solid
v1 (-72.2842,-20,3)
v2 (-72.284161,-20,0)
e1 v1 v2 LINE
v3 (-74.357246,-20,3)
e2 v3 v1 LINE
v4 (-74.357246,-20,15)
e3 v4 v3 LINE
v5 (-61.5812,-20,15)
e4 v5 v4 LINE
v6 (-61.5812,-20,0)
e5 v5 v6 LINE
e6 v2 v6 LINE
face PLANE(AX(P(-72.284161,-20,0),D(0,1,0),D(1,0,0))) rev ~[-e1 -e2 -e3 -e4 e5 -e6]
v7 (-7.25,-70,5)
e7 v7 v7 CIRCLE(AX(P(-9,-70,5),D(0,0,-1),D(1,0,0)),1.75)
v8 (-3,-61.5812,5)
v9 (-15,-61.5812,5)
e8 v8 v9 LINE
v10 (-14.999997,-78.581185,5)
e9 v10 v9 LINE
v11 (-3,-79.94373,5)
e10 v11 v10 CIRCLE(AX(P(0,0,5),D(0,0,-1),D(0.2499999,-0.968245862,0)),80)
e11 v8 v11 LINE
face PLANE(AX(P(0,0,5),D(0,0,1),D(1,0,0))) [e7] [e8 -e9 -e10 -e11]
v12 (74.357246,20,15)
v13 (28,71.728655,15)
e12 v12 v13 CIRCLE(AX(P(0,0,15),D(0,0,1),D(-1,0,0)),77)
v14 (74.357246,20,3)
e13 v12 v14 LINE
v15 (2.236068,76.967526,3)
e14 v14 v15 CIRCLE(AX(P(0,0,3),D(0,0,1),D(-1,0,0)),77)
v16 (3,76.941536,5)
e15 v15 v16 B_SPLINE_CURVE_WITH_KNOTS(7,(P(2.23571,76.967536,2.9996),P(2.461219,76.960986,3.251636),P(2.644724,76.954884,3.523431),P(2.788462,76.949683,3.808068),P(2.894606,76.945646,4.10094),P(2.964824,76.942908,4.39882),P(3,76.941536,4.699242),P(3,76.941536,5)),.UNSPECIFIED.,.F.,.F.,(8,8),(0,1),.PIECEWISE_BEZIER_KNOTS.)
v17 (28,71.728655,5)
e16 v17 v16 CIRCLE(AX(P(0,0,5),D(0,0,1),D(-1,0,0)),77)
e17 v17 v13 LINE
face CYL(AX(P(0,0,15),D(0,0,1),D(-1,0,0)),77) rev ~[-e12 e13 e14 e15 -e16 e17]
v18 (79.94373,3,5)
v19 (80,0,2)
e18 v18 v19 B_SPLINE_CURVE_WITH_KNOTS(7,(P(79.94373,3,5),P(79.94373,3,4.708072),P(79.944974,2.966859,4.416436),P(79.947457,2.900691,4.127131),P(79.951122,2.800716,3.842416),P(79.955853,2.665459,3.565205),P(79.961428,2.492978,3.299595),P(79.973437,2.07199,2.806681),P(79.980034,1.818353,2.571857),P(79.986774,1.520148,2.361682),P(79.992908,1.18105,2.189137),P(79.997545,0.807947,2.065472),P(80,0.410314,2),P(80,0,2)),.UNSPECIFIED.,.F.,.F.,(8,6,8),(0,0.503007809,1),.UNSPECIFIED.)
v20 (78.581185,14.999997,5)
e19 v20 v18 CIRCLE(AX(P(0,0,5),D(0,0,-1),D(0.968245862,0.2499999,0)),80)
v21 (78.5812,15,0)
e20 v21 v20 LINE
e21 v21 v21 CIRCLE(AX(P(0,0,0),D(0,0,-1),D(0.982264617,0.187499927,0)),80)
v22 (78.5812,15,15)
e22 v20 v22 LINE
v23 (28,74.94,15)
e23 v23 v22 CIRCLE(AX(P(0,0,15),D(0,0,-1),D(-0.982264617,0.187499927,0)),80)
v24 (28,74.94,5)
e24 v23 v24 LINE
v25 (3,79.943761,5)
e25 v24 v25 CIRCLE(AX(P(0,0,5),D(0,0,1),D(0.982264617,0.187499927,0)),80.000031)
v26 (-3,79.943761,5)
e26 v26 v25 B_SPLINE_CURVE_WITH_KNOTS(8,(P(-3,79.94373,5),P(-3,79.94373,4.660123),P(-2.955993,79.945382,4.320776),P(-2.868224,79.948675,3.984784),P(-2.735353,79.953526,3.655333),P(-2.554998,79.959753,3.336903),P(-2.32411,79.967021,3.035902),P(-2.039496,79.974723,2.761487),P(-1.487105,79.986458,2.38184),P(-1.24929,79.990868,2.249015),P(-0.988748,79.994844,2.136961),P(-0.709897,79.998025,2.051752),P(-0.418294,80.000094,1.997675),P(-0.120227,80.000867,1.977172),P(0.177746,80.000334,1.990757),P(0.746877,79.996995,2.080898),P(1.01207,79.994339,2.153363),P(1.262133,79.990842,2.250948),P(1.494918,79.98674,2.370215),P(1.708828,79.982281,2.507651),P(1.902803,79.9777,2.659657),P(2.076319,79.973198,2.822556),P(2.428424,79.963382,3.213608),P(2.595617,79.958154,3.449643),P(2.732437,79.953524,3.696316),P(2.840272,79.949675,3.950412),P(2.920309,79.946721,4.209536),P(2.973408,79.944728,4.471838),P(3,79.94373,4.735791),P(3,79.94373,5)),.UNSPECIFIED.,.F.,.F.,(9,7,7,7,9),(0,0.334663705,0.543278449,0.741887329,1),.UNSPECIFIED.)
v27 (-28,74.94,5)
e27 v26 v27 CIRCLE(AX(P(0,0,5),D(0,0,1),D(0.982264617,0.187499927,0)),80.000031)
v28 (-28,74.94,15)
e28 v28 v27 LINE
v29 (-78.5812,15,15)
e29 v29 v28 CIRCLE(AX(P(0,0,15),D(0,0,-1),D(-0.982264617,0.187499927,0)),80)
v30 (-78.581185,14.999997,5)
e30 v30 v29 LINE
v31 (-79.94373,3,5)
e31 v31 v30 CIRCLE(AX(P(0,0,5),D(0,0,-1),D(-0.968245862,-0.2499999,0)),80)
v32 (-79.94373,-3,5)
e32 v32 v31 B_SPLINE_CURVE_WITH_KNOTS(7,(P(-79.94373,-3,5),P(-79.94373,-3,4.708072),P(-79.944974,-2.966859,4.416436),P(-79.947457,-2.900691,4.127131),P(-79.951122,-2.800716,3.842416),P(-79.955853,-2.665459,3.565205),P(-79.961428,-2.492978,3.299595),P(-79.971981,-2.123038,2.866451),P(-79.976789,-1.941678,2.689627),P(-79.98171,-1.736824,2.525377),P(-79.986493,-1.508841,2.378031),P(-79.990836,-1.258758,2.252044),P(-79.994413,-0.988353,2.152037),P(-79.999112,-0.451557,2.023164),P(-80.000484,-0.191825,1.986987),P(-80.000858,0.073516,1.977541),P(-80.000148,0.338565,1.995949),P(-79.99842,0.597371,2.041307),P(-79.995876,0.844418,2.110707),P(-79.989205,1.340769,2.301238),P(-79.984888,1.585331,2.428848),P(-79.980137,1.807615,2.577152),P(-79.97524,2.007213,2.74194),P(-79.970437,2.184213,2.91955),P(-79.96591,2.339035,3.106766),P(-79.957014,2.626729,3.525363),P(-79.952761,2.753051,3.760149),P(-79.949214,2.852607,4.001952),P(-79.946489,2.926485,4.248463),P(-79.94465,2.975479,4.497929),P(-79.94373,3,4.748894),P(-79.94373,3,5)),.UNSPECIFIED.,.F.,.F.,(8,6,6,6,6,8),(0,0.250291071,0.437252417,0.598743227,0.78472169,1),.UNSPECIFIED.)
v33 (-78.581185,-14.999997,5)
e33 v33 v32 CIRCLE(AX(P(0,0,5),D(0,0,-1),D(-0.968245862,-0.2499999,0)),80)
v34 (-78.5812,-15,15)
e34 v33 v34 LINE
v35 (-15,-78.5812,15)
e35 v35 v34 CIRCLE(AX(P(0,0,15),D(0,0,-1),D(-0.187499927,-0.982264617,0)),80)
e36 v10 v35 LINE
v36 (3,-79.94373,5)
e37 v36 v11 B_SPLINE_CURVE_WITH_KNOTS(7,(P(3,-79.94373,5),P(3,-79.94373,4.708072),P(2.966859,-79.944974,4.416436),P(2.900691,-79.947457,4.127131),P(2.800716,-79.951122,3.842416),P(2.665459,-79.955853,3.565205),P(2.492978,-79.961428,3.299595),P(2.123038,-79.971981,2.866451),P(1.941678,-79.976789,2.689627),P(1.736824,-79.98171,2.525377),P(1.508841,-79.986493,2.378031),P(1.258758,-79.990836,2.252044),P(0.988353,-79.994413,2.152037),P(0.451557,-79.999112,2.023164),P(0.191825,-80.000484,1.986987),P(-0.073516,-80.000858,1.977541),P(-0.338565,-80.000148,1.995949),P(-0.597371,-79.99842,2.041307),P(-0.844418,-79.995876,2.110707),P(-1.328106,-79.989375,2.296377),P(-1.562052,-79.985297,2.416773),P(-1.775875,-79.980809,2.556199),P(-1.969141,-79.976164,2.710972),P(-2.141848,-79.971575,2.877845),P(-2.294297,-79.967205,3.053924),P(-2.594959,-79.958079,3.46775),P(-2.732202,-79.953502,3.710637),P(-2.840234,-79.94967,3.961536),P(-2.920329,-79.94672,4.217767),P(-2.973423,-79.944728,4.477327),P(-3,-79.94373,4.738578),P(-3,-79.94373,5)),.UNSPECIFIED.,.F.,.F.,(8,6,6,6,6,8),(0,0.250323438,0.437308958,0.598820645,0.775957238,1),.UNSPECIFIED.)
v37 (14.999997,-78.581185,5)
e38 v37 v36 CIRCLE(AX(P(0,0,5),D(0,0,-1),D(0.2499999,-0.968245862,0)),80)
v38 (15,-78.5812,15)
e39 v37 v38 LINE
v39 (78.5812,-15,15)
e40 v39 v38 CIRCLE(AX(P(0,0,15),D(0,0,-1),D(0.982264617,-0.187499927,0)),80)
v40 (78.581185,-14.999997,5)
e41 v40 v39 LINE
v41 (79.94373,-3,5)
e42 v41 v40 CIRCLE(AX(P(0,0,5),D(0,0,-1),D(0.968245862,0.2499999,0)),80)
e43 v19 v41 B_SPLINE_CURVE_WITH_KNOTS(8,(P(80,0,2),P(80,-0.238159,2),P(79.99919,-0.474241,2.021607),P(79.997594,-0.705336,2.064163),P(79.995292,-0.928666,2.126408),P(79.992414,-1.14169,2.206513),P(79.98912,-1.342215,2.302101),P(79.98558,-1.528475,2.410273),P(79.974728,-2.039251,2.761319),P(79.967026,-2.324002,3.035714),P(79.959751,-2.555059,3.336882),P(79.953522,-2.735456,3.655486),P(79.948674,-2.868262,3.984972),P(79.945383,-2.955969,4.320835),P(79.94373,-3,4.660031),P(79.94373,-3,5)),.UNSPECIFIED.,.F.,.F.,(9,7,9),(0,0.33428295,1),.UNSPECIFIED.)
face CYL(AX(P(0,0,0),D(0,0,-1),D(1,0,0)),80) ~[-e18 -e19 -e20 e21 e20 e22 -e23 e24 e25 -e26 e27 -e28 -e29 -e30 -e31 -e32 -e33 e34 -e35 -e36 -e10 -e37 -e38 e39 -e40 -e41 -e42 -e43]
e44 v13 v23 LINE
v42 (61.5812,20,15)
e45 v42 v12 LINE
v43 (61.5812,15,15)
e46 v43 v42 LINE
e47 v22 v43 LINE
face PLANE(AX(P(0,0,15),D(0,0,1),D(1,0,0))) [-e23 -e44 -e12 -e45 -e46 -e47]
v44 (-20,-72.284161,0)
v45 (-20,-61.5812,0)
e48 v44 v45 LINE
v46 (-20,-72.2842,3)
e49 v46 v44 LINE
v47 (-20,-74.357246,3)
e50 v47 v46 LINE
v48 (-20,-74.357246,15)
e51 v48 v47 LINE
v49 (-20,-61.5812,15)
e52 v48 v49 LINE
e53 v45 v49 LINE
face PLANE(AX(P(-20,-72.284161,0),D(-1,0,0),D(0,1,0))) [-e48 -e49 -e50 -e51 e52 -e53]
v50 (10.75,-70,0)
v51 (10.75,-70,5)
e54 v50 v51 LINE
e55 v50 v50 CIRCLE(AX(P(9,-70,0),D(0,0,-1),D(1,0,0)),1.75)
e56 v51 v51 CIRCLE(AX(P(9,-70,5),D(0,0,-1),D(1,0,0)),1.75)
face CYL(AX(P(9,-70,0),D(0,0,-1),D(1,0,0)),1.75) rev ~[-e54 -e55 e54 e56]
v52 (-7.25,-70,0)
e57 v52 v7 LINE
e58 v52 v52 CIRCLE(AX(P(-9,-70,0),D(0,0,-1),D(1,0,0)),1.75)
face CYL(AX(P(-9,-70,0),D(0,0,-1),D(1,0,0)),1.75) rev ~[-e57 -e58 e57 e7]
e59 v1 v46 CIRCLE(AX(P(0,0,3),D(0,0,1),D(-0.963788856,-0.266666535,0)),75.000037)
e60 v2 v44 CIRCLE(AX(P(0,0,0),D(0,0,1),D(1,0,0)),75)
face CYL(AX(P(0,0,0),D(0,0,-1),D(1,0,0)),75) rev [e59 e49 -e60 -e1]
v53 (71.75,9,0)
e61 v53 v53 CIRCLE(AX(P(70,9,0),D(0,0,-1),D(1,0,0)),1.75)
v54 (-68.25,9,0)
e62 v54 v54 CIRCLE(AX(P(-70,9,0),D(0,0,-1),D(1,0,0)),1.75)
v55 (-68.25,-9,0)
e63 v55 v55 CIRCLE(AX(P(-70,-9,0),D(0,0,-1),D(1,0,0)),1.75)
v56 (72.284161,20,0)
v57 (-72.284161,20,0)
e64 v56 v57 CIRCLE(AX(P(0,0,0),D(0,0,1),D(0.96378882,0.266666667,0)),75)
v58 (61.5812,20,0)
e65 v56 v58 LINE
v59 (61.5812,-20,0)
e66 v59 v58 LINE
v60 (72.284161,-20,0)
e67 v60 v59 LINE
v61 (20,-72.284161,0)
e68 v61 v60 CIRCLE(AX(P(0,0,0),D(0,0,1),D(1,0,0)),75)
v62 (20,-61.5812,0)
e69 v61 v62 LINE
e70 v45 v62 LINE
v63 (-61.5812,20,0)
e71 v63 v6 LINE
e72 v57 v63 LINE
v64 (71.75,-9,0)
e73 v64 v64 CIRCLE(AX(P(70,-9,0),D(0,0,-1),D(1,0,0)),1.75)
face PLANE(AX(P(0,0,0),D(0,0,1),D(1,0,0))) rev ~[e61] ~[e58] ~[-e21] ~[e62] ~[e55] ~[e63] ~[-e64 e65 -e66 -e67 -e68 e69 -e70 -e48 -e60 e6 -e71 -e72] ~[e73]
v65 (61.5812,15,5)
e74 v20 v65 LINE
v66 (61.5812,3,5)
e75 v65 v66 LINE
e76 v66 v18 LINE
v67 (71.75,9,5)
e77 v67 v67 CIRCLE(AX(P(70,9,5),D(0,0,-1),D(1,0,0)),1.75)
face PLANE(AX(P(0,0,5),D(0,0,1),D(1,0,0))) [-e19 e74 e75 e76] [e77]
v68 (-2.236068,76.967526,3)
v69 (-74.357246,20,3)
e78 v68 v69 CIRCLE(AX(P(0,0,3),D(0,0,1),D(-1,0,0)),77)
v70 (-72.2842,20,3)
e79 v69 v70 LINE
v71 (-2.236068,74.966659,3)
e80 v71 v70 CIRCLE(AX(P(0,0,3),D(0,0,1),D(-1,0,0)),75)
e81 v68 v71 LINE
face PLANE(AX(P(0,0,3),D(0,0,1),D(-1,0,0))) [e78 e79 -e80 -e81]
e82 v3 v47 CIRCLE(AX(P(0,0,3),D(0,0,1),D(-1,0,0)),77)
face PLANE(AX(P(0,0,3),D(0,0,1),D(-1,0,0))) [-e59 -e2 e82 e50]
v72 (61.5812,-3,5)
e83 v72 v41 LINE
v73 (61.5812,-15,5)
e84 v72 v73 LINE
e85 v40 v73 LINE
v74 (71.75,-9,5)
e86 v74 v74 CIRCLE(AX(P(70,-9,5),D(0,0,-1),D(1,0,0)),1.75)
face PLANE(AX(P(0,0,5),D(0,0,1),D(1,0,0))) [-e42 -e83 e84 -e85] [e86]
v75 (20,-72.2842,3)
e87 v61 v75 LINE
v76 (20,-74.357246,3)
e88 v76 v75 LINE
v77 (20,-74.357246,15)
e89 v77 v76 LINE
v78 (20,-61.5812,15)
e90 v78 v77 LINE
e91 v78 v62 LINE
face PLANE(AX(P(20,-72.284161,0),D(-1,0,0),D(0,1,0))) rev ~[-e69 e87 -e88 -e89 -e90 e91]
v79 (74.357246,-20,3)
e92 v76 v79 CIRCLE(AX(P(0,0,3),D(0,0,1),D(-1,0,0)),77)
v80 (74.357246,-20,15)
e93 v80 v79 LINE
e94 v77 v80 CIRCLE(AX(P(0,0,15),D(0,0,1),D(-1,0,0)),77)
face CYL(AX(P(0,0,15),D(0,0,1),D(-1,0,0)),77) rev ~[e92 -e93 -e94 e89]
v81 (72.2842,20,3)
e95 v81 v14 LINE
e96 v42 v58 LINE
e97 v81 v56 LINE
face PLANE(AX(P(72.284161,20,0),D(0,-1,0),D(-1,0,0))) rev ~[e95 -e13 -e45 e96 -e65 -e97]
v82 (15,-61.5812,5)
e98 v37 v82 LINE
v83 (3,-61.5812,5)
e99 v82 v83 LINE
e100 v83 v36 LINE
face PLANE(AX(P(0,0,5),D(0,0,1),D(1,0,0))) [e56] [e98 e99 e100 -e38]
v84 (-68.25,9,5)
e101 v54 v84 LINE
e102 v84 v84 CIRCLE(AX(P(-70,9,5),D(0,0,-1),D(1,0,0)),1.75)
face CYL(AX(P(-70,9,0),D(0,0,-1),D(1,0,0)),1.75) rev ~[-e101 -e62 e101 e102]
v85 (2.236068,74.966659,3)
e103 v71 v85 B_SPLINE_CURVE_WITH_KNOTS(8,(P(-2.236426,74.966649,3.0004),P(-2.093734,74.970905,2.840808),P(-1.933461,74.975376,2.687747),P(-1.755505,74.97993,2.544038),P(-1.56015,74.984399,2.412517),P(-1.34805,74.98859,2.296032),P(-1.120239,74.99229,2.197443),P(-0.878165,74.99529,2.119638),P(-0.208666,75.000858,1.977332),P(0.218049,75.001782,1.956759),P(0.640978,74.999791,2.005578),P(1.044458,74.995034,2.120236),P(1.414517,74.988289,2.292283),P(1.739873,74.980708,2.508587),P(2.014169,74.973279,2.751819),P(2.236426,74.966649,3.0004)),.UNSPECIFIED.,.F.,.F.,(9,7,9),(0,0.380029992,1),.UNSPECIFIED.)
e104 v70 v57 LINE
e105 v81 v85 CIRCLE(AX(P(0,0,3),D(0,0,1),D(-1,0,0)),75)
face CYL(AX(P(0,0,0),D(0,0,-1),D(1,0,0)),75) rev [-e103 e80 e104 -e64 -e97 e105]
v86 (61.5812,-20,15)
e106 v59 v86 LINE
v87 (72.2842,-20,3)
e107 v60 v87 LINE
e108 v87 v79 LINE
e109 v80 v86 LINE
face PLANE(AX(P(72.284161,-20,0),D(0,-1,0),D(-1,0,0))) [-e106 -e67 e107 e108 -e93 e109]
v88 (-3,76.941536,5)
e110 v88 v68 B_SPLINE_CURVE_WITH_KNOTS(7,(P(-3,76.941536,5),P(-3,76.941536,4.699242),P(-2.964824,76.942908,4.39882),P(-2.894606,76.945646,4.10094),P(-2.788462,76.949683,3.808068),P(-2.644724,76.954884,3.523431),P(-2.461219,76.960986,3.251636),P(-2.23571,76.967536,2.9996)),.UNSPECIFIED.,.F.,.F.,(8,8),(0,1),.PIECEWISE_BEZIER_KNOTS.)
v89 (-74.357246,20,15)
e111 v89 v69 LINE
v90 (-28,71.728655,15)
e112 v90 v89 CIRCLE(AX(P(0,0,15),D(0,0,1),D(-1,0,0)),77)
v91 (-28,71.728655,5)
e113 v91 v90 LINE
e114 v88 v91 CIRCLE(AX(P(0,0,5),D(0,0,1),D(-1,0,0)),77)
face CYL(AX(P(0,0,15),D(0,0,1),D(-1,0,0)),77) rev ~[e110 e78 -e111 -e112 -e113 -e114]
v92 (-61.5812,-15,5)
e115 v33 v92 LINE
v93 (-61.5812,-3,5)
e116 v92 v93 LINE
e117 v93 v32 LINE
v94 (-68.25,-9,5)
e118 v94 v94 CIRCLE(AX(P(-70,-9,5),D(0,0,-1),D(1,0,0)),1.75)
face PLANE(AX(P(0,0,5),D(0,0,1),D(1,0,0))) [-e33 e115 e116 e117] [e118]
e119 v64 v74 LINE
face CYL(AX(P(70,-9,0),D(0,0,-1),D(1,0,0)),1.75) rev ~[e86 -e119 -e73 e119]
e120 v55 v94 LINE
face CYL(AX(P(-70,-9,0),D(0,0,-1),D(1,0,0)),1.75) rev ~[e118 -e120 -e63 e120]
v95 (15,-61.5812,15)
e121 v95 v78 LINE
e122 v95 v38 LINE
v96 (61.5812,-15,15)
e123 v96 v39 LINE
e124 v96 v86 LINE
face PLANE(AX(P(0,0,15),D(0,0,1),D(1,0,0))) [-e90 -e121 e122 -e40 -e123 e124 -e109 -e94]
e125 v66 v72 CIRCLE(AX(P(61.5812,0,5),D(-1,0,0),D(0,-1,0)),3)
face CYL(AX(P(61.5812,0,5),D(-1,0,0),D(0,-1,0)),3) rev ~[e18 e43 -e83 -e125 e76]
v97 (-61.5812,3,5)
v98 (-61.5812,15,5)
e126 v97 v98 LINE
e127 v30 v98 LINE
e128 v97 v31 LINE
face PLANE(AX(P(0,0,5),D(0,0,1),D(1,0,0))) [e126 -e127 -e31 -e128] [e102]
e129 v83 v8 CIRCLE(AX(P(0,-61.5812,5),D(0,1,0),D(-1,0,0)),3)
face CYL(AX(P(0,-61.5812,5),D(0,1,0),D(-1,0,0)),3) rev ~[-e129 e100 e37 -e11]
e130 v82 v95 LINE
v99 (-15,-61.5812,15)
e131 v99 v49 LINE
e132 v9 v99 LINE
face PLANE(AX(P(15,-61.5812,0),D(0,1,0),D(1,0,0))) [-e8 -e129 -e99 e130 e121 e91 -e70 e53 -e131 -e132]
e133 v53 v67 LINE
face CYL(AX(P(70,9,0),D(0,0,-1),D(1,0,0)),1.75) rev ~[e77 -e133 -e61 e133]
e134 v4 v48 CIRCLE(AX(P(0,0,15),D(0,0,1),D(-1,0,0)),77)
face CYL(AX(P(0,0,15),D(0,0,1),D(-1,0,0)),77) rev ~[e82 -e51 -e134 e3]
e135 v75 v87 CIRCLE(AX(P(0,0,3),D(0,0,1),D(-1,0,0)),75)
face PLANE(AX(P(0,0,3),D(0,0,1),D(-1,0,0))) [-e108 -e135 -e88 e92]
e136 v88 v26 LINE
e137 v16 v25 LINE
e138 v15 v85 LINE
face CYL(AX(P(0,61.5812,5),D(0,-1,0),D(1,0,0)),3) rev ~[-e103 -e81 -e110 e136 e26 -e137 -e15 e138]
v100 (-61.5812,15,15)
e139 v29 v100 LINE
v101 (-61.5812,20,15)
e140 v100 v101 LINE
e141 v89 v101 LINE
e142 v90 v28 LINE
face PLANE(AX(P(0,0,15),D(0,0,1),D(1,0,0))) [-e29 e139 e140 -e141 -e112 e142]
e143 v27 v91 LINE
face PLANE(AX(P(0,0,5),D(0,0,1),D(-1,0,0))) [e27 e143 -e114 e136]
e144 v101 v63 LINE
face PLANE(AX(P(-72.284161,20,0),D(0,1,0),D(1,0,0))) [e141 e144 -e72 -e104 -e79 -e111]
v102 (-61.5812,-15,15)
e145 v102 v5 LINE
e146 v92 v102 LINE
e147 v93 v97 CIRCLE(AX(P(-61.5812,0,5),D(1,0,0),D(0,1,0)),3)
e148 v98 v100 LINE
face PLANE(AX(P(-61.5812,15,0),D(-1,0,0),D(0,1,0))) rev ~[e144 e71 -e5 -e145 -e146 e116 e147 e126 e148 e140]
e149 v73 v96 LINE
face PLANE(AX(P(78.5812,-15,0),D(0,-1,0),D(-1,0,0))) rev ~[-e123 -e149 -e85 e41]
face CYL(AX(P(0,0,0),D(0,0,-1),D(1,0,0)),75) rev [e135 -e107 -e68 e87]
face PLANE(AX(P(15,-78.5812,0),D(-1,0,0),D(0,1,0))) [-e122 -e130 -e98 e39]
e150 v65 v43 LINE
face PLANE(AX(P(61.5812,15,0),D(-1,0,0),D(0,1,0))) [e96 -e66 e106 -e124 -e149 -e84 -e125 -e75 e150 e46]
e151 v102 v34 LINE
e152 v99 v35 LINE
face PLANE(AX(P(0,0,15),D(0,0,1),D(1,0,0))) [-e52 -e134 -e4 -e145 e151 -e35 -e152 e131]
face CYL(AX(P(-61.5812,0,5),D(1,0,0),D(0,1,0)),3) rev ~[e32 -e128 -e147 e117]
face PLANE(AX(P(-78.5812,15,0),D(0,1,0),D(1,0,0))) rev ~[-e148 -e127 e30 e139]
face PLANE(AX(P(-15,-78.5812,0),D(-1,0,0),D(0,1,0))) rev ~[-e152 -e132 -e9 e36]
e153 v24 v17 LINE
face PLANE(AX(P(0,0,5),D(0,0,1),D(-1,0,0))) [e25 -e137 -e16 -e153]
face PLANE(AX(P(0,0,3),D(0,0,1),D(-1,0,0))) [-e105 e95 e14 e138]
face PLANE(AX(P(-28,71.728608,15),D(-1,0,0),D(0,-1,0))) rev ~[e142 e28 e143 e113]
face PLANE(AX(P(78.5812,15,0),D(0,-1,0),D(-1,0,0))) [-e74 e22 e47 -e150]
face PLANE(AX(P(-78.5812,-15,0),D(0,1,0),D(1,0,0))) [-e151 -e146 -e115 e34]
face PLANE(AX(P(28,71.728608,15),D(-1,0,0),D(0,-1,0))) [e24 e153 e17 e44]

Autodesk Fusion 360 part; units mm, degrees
sketch "Sketch1" plane through (0, 0, 0) normal (0, 0, 1) x (1, 0, 0)
  circle A0 centre (0, 0) radius 80
  circle A1 centre (0, 0) radius 75
  line L0 (109.3577, 15) -> (-93.0881, 15) construction
  line L1 (20, 0) -> (2.5, 0)
  line L2 (109.3577, -15) -> (-93.0881, -15) construction
  line L3 (-78.5812, 15) -> (-61.5812, 15)
  line L4 (-78.5812, -15) -> (-61.5812, -15)
  line L5 (-97.5254, 20) -> (90.0497, 20) construction
  line L6 (-97.5254, -20) -> (90.0497, -20) construction
  line L7 (-77.4597, 20) -> (-61.5812, 20)
  line L8 (-77.4597, -20) -> (-61.5812, -20)
  line L9 (-61.5812, -15) -> (-61.5812, -20)
  line L10 (-61.5812, 15) -> (-61.5812, 20)
  line L11 (-20, -77.4597) -> (-20, -61.5812)
  line L12 (-15, -61.5812) -> (-20, -61.5812)
  line L13 (-15, -78.5812) -> (-15, -61.5812)
  line L14 (15, -78.5812) -> (15, -61.5812)
  line L15 (15, -61.5812) -> (20, -61.5812)
  line L16 (20, -77.4597) -> (20, -61.5812)
  line L17 (77.4597, -20) -> (61.5812, -20)
  line L18 (61.5812, -15) -> (61.5812, -20)
  line L19 (78.5812, -15) -> (61.5812, -15)
  line L20 (78.5812, 15) -> (61.5812, 15)
  line L21 (61.5812, 15) -> (61.5812, 20)
  line L22 (77.4597, 20) -> (61.5812, 20)
  line L23 (-28, 82.3691) -> (-28, 36.8916) construction
  line L24 (0, 2.5) -> (0, 20)
  line L25 (28, 82.3691) -> (28, 36.8916) construction
  line L26 (-33, 78.0405) -> (-33, 48.5416) construction
  line L27 (33, 78.0405) -> (33, 48.5416) construction
  line L28 (-28, 74.94) -> (-28, 69.5773)
  line L29 (28, 74.94) -> (28, 69.5773)
  line L30 (-61.5812, 15) -> (-61.5812, -15)
  line L31 (-15, -61.5812) -> (15, -61.5812)
  line L32 (61.5812, -15) -> (61.5812, 15)
  circle A2 centre (0, 0) radius 77
  dimension "d1" = 160
  dimension "d2" = -5
  dimension "d3" = 15
  dimension "d4" = 17
  dimension "d5" = 17
  dimension "d6" = 20
  dimension "d8" = 360
  dimension "d9" = 28
  dimension "d10" = 33
  dimension "d13" = -3
extrude "Extrude1" add sketch "Sketch1" along normal blind 15 contours A0 L20 L22 A2 | A0 L17 L19 A2 | A0 L22 L29 A2 | A1 L20 L22 A2 | A0 L16 L17 A2 | A1 L17 L19 A2 | A0 L28 L29 A2 | A1 L22 L29 A2 | A1 L20 L21 L22 | A0 L14 L16 A2 | A1 L16 L17 A2 | A1 L17 L18 L19 | A0 L7 L28 A2 | A1 L28 L29 A2 | A1 L14 L16 A2 | A0 L3 L7 A2 | A1 L7 L28 A2 | A0 L11 L13 A2 | A1 L14 L15 L16 | A1 L3 L7 A2 | A0 L8 L11 A2 | A1 L11 L13 A2 | A0 L4 L8 A2 | A1 L3 L7 L10 | A1 L8 L11 A2 | A1 L11 L12 L13 | A1 L4 L8 A2 | A1 L4 L8 L9 makes body 1 at (-69.1013, 40.3114, 10) makes body 2 at (18.8878, -77.7383, 5) makes body 3 at (-77.7383, -18.8878, 5)
extrude "Extrude2" add sketch "Sketch1" along normal blind 5 contours A0 L19 L20 A2 | A0 L20 L22 A2 | A0 L17 L19 A2 | A1 L19 L20 A2 | A1 L20 L22 A2 | A1 L17 L19 A2 | A1 L20 L21 L22 | A1 L19 L20 L32 | A0 L14 L16 A2 | A1 L17 L18 L19 | A0 L13 L14 A2 | A1 L14 L16 A2 | A0 L3 L7 A2 | A0 L11 L13 A2 | A1 L13 L14 A2 | A1 L14 L15 L16 | A0 L3 L4 A2 | A1 L3 L7 A2 | A1 L11 L13 A2 | A1 L13 L14 L31 | A0 L4 L8 A2 | A1 L3 L4 A2 | A1 L3 L7 L10 | A1 L11 L12 L13 | A1 L4 L8 A2 | A1 L3 L4 L30 | A1 L4 L8 L9 bodies 1 2 3
sketch "Sketch2" plane through (0, 0, 15) normal (0, 0, 1) x (-1, 0, 0)
  arc A0 (78.5812, 15) -> (15, 78.5812) centre (0, 0) ccw
  line L0 (15, 78.5812) -> (15, 61.5812)
  line L1 (15, 61.5812) -> (20, 61.5812)
  line L2 (20, 61.5812) -> (20, 72.2842)
  arc A1 (72.2842, 20) -> (20, 72.2842) centre (0, 0) ccw
  line L3 (72.2842, 20) -> (61.5812, 20)
  line L4 (61.5812, 20) -> (61.5812, 15)
  line L5 (61.5812, 15) -> (78.5812, 15)
  circle A2 centre (0, 0) radius 80
  circle A3 centre (0, 0) radius 77
  circle A4 centre (0, 0) radius 75
  line L6 (97.5254, 20) -> (-90.0497, 20)
  line L7 (97.5254, -20) -> (-90.0497, -20)
  line L8 (-20, 77.4597) -> (-20, 61.5812)
  line L9 (20, 77.4597) -> (20, 61.5812)
  line L10 (20, 72.2842) -> (20, 77.4597)
  line L11 (-20, 72.2842) -> (-20, 77.4597)
  line L12 (-72.2842, 20) -> (-77.4597, 20)
  line L13 (-72.2842, -20) -> (-77.4597, -20)
  line L14 (77.4597, 20) -> (72.2842, 20)
  line L15 (77.4597, -20) -> (72.2842, -20)
  dimension "d16" = -3
  dimension "d17" = -5
  dimension "d18" = 160
extrude "Extrude3" cut sketch "Sketch2" against normal blind 12 contours A1 A3 A4 L6 L9 L10 L14 | A3 A4 L7 L13 L15 | A3 A4 L6 L8 L11 L12 bodies 1
sketch "Sketch3" plane through (0, 0, 0) normal (0, 0, -1) x (1, 0, 0)
  arc A0 (-20, 72.2842) -> (-72.2842, 20) centre (0, 0) ccw
  line L0 (-20, 72.2842) -> (-20, 61.5812)
  line L1 (-20, 61.5812) -> (20, 61.5812)
  line L2 (20, 61.5812) -> (20, 72.2842)
  arc A1 (72.2842, 20) -> (20, 72.2842) centre (0, 0) ccw
  line L3 (72.2842, 20) -> (61.5812, 20)
  line L4 (61.5812, 20) -> (61.5812, -20)
  line L5 (61.5812, -20) -> (72.2842, -20)
  arc A2 (-72.2842, -20) -> (72.2842, -20) centre (0, 0) ccw
  line L6 (-72.2842, -20) -> (-61.5812, -20)
  line L7 (-61.5812, -20) -> (-61.5812, 20)
  line L8 (-61.5812, 20) -> (-72.2842, 20)
  circle A3 centre (0, 0) radius 70 construction
  line L9 (-17, 70) -> (15.5974, 70) construction
  circle A4 centre (9, 70) radius 1.75
  circle A5 centre (-9, 70) radius 1.75
  circle A6 centre (-70, 9) radius 1.75
  circle A7 centre (-70, -9) radius 1.75
  circle A8 centre (70, -9) radius 1.75
  circle A9 centre (70, 9) radius 1.75
  circle A10 centre (0, 0) radius 80
  dimension "d21" = 140
  dimension "d22" = 3.5
  dimension "d23" = 3.5
  dimension "d24" = 9
  dimension "d25" = 9
  dimension "d27" = 360
extrude "Extrude4" cut sketch "Sketch3" against normal blind 5 contours A4 | A5 | A6 | A7 | A8 | A9 bodies 1
sketch "Sketch4" plane through (0, 0, 15) normal (0, 0, 1) x (-1, 0, 0)
  line L0 (61.5812, -20) -> (74.3572, -20)
  arc A0 (-74.3572, -20) -> (74.3572, -20) centre (0, 0) ccw
  line L1 (-74.3572, -20) -> (-61.5812, -20)
  line L2 (-61.5812, -20) -> (-61.5812, -15)
  line L3 (-61.5812, -15) -> (-78.5812, -15)
  arc A1 (-78.5812, -15) -> (78.5812, -15) centre (0, 0) ccw
  line L4 (78.5812, -15) -> (61.5812, -15)
  line L5 (61.5812, -15) -> (61.5812, -20)
  line L6 (28, -82.3691) -> (28, -36.8916)
  line L7 (-28, -82.3691) -> (-28, -36.8916)
  circle A2 centre (0, 0) radius 75
  circle A3 centre (0, 0) radius 80
  line L8 (28, -74.94) -> (28, -69.5773)
  line L9 (-28, -74.94) -> (-28, -69.5773)
extrude "Extrude5" cut sketch "Sketch4" against normal blind 10 contours A0 L6 L7 A2 L8 L9 | A0 A1 L6 L7 A3 L8 L9 bodies 1
sketch "Sketch5" plane through (0, -61.5812, 0) normal (0, 1, 0) x (-1, 0, 0)
  line L0 (-15, 5) -> (-15, 15)
  line L1 (-15, 15) -> (-20, 15)
  line L2 (-20, 15) -> (-20, 0)
  line L3 (-20, 0) -> (20, 0)
  line L4 (20, 0) -> (20, 15)
  line L5 (20, 15) -> (15, 15)
  line L6 (15, 15) -> (15, 5)
  line L7 (15, 5) -> (-15, 5)
  circle A0 centre (0, 5) radius 3
  dimension "d32" = 6
extrude "Extrude6" cut sketch "Sketch5" against normal blind 18.419 contours L7 A0 picked at (-0.7219, 4.1708) bodies 1
pattern_circular "C-Pattern1" count 4 over 360 about axis through (0, 0, 1.75) along (0, 0, 1) of "Extrude6"
